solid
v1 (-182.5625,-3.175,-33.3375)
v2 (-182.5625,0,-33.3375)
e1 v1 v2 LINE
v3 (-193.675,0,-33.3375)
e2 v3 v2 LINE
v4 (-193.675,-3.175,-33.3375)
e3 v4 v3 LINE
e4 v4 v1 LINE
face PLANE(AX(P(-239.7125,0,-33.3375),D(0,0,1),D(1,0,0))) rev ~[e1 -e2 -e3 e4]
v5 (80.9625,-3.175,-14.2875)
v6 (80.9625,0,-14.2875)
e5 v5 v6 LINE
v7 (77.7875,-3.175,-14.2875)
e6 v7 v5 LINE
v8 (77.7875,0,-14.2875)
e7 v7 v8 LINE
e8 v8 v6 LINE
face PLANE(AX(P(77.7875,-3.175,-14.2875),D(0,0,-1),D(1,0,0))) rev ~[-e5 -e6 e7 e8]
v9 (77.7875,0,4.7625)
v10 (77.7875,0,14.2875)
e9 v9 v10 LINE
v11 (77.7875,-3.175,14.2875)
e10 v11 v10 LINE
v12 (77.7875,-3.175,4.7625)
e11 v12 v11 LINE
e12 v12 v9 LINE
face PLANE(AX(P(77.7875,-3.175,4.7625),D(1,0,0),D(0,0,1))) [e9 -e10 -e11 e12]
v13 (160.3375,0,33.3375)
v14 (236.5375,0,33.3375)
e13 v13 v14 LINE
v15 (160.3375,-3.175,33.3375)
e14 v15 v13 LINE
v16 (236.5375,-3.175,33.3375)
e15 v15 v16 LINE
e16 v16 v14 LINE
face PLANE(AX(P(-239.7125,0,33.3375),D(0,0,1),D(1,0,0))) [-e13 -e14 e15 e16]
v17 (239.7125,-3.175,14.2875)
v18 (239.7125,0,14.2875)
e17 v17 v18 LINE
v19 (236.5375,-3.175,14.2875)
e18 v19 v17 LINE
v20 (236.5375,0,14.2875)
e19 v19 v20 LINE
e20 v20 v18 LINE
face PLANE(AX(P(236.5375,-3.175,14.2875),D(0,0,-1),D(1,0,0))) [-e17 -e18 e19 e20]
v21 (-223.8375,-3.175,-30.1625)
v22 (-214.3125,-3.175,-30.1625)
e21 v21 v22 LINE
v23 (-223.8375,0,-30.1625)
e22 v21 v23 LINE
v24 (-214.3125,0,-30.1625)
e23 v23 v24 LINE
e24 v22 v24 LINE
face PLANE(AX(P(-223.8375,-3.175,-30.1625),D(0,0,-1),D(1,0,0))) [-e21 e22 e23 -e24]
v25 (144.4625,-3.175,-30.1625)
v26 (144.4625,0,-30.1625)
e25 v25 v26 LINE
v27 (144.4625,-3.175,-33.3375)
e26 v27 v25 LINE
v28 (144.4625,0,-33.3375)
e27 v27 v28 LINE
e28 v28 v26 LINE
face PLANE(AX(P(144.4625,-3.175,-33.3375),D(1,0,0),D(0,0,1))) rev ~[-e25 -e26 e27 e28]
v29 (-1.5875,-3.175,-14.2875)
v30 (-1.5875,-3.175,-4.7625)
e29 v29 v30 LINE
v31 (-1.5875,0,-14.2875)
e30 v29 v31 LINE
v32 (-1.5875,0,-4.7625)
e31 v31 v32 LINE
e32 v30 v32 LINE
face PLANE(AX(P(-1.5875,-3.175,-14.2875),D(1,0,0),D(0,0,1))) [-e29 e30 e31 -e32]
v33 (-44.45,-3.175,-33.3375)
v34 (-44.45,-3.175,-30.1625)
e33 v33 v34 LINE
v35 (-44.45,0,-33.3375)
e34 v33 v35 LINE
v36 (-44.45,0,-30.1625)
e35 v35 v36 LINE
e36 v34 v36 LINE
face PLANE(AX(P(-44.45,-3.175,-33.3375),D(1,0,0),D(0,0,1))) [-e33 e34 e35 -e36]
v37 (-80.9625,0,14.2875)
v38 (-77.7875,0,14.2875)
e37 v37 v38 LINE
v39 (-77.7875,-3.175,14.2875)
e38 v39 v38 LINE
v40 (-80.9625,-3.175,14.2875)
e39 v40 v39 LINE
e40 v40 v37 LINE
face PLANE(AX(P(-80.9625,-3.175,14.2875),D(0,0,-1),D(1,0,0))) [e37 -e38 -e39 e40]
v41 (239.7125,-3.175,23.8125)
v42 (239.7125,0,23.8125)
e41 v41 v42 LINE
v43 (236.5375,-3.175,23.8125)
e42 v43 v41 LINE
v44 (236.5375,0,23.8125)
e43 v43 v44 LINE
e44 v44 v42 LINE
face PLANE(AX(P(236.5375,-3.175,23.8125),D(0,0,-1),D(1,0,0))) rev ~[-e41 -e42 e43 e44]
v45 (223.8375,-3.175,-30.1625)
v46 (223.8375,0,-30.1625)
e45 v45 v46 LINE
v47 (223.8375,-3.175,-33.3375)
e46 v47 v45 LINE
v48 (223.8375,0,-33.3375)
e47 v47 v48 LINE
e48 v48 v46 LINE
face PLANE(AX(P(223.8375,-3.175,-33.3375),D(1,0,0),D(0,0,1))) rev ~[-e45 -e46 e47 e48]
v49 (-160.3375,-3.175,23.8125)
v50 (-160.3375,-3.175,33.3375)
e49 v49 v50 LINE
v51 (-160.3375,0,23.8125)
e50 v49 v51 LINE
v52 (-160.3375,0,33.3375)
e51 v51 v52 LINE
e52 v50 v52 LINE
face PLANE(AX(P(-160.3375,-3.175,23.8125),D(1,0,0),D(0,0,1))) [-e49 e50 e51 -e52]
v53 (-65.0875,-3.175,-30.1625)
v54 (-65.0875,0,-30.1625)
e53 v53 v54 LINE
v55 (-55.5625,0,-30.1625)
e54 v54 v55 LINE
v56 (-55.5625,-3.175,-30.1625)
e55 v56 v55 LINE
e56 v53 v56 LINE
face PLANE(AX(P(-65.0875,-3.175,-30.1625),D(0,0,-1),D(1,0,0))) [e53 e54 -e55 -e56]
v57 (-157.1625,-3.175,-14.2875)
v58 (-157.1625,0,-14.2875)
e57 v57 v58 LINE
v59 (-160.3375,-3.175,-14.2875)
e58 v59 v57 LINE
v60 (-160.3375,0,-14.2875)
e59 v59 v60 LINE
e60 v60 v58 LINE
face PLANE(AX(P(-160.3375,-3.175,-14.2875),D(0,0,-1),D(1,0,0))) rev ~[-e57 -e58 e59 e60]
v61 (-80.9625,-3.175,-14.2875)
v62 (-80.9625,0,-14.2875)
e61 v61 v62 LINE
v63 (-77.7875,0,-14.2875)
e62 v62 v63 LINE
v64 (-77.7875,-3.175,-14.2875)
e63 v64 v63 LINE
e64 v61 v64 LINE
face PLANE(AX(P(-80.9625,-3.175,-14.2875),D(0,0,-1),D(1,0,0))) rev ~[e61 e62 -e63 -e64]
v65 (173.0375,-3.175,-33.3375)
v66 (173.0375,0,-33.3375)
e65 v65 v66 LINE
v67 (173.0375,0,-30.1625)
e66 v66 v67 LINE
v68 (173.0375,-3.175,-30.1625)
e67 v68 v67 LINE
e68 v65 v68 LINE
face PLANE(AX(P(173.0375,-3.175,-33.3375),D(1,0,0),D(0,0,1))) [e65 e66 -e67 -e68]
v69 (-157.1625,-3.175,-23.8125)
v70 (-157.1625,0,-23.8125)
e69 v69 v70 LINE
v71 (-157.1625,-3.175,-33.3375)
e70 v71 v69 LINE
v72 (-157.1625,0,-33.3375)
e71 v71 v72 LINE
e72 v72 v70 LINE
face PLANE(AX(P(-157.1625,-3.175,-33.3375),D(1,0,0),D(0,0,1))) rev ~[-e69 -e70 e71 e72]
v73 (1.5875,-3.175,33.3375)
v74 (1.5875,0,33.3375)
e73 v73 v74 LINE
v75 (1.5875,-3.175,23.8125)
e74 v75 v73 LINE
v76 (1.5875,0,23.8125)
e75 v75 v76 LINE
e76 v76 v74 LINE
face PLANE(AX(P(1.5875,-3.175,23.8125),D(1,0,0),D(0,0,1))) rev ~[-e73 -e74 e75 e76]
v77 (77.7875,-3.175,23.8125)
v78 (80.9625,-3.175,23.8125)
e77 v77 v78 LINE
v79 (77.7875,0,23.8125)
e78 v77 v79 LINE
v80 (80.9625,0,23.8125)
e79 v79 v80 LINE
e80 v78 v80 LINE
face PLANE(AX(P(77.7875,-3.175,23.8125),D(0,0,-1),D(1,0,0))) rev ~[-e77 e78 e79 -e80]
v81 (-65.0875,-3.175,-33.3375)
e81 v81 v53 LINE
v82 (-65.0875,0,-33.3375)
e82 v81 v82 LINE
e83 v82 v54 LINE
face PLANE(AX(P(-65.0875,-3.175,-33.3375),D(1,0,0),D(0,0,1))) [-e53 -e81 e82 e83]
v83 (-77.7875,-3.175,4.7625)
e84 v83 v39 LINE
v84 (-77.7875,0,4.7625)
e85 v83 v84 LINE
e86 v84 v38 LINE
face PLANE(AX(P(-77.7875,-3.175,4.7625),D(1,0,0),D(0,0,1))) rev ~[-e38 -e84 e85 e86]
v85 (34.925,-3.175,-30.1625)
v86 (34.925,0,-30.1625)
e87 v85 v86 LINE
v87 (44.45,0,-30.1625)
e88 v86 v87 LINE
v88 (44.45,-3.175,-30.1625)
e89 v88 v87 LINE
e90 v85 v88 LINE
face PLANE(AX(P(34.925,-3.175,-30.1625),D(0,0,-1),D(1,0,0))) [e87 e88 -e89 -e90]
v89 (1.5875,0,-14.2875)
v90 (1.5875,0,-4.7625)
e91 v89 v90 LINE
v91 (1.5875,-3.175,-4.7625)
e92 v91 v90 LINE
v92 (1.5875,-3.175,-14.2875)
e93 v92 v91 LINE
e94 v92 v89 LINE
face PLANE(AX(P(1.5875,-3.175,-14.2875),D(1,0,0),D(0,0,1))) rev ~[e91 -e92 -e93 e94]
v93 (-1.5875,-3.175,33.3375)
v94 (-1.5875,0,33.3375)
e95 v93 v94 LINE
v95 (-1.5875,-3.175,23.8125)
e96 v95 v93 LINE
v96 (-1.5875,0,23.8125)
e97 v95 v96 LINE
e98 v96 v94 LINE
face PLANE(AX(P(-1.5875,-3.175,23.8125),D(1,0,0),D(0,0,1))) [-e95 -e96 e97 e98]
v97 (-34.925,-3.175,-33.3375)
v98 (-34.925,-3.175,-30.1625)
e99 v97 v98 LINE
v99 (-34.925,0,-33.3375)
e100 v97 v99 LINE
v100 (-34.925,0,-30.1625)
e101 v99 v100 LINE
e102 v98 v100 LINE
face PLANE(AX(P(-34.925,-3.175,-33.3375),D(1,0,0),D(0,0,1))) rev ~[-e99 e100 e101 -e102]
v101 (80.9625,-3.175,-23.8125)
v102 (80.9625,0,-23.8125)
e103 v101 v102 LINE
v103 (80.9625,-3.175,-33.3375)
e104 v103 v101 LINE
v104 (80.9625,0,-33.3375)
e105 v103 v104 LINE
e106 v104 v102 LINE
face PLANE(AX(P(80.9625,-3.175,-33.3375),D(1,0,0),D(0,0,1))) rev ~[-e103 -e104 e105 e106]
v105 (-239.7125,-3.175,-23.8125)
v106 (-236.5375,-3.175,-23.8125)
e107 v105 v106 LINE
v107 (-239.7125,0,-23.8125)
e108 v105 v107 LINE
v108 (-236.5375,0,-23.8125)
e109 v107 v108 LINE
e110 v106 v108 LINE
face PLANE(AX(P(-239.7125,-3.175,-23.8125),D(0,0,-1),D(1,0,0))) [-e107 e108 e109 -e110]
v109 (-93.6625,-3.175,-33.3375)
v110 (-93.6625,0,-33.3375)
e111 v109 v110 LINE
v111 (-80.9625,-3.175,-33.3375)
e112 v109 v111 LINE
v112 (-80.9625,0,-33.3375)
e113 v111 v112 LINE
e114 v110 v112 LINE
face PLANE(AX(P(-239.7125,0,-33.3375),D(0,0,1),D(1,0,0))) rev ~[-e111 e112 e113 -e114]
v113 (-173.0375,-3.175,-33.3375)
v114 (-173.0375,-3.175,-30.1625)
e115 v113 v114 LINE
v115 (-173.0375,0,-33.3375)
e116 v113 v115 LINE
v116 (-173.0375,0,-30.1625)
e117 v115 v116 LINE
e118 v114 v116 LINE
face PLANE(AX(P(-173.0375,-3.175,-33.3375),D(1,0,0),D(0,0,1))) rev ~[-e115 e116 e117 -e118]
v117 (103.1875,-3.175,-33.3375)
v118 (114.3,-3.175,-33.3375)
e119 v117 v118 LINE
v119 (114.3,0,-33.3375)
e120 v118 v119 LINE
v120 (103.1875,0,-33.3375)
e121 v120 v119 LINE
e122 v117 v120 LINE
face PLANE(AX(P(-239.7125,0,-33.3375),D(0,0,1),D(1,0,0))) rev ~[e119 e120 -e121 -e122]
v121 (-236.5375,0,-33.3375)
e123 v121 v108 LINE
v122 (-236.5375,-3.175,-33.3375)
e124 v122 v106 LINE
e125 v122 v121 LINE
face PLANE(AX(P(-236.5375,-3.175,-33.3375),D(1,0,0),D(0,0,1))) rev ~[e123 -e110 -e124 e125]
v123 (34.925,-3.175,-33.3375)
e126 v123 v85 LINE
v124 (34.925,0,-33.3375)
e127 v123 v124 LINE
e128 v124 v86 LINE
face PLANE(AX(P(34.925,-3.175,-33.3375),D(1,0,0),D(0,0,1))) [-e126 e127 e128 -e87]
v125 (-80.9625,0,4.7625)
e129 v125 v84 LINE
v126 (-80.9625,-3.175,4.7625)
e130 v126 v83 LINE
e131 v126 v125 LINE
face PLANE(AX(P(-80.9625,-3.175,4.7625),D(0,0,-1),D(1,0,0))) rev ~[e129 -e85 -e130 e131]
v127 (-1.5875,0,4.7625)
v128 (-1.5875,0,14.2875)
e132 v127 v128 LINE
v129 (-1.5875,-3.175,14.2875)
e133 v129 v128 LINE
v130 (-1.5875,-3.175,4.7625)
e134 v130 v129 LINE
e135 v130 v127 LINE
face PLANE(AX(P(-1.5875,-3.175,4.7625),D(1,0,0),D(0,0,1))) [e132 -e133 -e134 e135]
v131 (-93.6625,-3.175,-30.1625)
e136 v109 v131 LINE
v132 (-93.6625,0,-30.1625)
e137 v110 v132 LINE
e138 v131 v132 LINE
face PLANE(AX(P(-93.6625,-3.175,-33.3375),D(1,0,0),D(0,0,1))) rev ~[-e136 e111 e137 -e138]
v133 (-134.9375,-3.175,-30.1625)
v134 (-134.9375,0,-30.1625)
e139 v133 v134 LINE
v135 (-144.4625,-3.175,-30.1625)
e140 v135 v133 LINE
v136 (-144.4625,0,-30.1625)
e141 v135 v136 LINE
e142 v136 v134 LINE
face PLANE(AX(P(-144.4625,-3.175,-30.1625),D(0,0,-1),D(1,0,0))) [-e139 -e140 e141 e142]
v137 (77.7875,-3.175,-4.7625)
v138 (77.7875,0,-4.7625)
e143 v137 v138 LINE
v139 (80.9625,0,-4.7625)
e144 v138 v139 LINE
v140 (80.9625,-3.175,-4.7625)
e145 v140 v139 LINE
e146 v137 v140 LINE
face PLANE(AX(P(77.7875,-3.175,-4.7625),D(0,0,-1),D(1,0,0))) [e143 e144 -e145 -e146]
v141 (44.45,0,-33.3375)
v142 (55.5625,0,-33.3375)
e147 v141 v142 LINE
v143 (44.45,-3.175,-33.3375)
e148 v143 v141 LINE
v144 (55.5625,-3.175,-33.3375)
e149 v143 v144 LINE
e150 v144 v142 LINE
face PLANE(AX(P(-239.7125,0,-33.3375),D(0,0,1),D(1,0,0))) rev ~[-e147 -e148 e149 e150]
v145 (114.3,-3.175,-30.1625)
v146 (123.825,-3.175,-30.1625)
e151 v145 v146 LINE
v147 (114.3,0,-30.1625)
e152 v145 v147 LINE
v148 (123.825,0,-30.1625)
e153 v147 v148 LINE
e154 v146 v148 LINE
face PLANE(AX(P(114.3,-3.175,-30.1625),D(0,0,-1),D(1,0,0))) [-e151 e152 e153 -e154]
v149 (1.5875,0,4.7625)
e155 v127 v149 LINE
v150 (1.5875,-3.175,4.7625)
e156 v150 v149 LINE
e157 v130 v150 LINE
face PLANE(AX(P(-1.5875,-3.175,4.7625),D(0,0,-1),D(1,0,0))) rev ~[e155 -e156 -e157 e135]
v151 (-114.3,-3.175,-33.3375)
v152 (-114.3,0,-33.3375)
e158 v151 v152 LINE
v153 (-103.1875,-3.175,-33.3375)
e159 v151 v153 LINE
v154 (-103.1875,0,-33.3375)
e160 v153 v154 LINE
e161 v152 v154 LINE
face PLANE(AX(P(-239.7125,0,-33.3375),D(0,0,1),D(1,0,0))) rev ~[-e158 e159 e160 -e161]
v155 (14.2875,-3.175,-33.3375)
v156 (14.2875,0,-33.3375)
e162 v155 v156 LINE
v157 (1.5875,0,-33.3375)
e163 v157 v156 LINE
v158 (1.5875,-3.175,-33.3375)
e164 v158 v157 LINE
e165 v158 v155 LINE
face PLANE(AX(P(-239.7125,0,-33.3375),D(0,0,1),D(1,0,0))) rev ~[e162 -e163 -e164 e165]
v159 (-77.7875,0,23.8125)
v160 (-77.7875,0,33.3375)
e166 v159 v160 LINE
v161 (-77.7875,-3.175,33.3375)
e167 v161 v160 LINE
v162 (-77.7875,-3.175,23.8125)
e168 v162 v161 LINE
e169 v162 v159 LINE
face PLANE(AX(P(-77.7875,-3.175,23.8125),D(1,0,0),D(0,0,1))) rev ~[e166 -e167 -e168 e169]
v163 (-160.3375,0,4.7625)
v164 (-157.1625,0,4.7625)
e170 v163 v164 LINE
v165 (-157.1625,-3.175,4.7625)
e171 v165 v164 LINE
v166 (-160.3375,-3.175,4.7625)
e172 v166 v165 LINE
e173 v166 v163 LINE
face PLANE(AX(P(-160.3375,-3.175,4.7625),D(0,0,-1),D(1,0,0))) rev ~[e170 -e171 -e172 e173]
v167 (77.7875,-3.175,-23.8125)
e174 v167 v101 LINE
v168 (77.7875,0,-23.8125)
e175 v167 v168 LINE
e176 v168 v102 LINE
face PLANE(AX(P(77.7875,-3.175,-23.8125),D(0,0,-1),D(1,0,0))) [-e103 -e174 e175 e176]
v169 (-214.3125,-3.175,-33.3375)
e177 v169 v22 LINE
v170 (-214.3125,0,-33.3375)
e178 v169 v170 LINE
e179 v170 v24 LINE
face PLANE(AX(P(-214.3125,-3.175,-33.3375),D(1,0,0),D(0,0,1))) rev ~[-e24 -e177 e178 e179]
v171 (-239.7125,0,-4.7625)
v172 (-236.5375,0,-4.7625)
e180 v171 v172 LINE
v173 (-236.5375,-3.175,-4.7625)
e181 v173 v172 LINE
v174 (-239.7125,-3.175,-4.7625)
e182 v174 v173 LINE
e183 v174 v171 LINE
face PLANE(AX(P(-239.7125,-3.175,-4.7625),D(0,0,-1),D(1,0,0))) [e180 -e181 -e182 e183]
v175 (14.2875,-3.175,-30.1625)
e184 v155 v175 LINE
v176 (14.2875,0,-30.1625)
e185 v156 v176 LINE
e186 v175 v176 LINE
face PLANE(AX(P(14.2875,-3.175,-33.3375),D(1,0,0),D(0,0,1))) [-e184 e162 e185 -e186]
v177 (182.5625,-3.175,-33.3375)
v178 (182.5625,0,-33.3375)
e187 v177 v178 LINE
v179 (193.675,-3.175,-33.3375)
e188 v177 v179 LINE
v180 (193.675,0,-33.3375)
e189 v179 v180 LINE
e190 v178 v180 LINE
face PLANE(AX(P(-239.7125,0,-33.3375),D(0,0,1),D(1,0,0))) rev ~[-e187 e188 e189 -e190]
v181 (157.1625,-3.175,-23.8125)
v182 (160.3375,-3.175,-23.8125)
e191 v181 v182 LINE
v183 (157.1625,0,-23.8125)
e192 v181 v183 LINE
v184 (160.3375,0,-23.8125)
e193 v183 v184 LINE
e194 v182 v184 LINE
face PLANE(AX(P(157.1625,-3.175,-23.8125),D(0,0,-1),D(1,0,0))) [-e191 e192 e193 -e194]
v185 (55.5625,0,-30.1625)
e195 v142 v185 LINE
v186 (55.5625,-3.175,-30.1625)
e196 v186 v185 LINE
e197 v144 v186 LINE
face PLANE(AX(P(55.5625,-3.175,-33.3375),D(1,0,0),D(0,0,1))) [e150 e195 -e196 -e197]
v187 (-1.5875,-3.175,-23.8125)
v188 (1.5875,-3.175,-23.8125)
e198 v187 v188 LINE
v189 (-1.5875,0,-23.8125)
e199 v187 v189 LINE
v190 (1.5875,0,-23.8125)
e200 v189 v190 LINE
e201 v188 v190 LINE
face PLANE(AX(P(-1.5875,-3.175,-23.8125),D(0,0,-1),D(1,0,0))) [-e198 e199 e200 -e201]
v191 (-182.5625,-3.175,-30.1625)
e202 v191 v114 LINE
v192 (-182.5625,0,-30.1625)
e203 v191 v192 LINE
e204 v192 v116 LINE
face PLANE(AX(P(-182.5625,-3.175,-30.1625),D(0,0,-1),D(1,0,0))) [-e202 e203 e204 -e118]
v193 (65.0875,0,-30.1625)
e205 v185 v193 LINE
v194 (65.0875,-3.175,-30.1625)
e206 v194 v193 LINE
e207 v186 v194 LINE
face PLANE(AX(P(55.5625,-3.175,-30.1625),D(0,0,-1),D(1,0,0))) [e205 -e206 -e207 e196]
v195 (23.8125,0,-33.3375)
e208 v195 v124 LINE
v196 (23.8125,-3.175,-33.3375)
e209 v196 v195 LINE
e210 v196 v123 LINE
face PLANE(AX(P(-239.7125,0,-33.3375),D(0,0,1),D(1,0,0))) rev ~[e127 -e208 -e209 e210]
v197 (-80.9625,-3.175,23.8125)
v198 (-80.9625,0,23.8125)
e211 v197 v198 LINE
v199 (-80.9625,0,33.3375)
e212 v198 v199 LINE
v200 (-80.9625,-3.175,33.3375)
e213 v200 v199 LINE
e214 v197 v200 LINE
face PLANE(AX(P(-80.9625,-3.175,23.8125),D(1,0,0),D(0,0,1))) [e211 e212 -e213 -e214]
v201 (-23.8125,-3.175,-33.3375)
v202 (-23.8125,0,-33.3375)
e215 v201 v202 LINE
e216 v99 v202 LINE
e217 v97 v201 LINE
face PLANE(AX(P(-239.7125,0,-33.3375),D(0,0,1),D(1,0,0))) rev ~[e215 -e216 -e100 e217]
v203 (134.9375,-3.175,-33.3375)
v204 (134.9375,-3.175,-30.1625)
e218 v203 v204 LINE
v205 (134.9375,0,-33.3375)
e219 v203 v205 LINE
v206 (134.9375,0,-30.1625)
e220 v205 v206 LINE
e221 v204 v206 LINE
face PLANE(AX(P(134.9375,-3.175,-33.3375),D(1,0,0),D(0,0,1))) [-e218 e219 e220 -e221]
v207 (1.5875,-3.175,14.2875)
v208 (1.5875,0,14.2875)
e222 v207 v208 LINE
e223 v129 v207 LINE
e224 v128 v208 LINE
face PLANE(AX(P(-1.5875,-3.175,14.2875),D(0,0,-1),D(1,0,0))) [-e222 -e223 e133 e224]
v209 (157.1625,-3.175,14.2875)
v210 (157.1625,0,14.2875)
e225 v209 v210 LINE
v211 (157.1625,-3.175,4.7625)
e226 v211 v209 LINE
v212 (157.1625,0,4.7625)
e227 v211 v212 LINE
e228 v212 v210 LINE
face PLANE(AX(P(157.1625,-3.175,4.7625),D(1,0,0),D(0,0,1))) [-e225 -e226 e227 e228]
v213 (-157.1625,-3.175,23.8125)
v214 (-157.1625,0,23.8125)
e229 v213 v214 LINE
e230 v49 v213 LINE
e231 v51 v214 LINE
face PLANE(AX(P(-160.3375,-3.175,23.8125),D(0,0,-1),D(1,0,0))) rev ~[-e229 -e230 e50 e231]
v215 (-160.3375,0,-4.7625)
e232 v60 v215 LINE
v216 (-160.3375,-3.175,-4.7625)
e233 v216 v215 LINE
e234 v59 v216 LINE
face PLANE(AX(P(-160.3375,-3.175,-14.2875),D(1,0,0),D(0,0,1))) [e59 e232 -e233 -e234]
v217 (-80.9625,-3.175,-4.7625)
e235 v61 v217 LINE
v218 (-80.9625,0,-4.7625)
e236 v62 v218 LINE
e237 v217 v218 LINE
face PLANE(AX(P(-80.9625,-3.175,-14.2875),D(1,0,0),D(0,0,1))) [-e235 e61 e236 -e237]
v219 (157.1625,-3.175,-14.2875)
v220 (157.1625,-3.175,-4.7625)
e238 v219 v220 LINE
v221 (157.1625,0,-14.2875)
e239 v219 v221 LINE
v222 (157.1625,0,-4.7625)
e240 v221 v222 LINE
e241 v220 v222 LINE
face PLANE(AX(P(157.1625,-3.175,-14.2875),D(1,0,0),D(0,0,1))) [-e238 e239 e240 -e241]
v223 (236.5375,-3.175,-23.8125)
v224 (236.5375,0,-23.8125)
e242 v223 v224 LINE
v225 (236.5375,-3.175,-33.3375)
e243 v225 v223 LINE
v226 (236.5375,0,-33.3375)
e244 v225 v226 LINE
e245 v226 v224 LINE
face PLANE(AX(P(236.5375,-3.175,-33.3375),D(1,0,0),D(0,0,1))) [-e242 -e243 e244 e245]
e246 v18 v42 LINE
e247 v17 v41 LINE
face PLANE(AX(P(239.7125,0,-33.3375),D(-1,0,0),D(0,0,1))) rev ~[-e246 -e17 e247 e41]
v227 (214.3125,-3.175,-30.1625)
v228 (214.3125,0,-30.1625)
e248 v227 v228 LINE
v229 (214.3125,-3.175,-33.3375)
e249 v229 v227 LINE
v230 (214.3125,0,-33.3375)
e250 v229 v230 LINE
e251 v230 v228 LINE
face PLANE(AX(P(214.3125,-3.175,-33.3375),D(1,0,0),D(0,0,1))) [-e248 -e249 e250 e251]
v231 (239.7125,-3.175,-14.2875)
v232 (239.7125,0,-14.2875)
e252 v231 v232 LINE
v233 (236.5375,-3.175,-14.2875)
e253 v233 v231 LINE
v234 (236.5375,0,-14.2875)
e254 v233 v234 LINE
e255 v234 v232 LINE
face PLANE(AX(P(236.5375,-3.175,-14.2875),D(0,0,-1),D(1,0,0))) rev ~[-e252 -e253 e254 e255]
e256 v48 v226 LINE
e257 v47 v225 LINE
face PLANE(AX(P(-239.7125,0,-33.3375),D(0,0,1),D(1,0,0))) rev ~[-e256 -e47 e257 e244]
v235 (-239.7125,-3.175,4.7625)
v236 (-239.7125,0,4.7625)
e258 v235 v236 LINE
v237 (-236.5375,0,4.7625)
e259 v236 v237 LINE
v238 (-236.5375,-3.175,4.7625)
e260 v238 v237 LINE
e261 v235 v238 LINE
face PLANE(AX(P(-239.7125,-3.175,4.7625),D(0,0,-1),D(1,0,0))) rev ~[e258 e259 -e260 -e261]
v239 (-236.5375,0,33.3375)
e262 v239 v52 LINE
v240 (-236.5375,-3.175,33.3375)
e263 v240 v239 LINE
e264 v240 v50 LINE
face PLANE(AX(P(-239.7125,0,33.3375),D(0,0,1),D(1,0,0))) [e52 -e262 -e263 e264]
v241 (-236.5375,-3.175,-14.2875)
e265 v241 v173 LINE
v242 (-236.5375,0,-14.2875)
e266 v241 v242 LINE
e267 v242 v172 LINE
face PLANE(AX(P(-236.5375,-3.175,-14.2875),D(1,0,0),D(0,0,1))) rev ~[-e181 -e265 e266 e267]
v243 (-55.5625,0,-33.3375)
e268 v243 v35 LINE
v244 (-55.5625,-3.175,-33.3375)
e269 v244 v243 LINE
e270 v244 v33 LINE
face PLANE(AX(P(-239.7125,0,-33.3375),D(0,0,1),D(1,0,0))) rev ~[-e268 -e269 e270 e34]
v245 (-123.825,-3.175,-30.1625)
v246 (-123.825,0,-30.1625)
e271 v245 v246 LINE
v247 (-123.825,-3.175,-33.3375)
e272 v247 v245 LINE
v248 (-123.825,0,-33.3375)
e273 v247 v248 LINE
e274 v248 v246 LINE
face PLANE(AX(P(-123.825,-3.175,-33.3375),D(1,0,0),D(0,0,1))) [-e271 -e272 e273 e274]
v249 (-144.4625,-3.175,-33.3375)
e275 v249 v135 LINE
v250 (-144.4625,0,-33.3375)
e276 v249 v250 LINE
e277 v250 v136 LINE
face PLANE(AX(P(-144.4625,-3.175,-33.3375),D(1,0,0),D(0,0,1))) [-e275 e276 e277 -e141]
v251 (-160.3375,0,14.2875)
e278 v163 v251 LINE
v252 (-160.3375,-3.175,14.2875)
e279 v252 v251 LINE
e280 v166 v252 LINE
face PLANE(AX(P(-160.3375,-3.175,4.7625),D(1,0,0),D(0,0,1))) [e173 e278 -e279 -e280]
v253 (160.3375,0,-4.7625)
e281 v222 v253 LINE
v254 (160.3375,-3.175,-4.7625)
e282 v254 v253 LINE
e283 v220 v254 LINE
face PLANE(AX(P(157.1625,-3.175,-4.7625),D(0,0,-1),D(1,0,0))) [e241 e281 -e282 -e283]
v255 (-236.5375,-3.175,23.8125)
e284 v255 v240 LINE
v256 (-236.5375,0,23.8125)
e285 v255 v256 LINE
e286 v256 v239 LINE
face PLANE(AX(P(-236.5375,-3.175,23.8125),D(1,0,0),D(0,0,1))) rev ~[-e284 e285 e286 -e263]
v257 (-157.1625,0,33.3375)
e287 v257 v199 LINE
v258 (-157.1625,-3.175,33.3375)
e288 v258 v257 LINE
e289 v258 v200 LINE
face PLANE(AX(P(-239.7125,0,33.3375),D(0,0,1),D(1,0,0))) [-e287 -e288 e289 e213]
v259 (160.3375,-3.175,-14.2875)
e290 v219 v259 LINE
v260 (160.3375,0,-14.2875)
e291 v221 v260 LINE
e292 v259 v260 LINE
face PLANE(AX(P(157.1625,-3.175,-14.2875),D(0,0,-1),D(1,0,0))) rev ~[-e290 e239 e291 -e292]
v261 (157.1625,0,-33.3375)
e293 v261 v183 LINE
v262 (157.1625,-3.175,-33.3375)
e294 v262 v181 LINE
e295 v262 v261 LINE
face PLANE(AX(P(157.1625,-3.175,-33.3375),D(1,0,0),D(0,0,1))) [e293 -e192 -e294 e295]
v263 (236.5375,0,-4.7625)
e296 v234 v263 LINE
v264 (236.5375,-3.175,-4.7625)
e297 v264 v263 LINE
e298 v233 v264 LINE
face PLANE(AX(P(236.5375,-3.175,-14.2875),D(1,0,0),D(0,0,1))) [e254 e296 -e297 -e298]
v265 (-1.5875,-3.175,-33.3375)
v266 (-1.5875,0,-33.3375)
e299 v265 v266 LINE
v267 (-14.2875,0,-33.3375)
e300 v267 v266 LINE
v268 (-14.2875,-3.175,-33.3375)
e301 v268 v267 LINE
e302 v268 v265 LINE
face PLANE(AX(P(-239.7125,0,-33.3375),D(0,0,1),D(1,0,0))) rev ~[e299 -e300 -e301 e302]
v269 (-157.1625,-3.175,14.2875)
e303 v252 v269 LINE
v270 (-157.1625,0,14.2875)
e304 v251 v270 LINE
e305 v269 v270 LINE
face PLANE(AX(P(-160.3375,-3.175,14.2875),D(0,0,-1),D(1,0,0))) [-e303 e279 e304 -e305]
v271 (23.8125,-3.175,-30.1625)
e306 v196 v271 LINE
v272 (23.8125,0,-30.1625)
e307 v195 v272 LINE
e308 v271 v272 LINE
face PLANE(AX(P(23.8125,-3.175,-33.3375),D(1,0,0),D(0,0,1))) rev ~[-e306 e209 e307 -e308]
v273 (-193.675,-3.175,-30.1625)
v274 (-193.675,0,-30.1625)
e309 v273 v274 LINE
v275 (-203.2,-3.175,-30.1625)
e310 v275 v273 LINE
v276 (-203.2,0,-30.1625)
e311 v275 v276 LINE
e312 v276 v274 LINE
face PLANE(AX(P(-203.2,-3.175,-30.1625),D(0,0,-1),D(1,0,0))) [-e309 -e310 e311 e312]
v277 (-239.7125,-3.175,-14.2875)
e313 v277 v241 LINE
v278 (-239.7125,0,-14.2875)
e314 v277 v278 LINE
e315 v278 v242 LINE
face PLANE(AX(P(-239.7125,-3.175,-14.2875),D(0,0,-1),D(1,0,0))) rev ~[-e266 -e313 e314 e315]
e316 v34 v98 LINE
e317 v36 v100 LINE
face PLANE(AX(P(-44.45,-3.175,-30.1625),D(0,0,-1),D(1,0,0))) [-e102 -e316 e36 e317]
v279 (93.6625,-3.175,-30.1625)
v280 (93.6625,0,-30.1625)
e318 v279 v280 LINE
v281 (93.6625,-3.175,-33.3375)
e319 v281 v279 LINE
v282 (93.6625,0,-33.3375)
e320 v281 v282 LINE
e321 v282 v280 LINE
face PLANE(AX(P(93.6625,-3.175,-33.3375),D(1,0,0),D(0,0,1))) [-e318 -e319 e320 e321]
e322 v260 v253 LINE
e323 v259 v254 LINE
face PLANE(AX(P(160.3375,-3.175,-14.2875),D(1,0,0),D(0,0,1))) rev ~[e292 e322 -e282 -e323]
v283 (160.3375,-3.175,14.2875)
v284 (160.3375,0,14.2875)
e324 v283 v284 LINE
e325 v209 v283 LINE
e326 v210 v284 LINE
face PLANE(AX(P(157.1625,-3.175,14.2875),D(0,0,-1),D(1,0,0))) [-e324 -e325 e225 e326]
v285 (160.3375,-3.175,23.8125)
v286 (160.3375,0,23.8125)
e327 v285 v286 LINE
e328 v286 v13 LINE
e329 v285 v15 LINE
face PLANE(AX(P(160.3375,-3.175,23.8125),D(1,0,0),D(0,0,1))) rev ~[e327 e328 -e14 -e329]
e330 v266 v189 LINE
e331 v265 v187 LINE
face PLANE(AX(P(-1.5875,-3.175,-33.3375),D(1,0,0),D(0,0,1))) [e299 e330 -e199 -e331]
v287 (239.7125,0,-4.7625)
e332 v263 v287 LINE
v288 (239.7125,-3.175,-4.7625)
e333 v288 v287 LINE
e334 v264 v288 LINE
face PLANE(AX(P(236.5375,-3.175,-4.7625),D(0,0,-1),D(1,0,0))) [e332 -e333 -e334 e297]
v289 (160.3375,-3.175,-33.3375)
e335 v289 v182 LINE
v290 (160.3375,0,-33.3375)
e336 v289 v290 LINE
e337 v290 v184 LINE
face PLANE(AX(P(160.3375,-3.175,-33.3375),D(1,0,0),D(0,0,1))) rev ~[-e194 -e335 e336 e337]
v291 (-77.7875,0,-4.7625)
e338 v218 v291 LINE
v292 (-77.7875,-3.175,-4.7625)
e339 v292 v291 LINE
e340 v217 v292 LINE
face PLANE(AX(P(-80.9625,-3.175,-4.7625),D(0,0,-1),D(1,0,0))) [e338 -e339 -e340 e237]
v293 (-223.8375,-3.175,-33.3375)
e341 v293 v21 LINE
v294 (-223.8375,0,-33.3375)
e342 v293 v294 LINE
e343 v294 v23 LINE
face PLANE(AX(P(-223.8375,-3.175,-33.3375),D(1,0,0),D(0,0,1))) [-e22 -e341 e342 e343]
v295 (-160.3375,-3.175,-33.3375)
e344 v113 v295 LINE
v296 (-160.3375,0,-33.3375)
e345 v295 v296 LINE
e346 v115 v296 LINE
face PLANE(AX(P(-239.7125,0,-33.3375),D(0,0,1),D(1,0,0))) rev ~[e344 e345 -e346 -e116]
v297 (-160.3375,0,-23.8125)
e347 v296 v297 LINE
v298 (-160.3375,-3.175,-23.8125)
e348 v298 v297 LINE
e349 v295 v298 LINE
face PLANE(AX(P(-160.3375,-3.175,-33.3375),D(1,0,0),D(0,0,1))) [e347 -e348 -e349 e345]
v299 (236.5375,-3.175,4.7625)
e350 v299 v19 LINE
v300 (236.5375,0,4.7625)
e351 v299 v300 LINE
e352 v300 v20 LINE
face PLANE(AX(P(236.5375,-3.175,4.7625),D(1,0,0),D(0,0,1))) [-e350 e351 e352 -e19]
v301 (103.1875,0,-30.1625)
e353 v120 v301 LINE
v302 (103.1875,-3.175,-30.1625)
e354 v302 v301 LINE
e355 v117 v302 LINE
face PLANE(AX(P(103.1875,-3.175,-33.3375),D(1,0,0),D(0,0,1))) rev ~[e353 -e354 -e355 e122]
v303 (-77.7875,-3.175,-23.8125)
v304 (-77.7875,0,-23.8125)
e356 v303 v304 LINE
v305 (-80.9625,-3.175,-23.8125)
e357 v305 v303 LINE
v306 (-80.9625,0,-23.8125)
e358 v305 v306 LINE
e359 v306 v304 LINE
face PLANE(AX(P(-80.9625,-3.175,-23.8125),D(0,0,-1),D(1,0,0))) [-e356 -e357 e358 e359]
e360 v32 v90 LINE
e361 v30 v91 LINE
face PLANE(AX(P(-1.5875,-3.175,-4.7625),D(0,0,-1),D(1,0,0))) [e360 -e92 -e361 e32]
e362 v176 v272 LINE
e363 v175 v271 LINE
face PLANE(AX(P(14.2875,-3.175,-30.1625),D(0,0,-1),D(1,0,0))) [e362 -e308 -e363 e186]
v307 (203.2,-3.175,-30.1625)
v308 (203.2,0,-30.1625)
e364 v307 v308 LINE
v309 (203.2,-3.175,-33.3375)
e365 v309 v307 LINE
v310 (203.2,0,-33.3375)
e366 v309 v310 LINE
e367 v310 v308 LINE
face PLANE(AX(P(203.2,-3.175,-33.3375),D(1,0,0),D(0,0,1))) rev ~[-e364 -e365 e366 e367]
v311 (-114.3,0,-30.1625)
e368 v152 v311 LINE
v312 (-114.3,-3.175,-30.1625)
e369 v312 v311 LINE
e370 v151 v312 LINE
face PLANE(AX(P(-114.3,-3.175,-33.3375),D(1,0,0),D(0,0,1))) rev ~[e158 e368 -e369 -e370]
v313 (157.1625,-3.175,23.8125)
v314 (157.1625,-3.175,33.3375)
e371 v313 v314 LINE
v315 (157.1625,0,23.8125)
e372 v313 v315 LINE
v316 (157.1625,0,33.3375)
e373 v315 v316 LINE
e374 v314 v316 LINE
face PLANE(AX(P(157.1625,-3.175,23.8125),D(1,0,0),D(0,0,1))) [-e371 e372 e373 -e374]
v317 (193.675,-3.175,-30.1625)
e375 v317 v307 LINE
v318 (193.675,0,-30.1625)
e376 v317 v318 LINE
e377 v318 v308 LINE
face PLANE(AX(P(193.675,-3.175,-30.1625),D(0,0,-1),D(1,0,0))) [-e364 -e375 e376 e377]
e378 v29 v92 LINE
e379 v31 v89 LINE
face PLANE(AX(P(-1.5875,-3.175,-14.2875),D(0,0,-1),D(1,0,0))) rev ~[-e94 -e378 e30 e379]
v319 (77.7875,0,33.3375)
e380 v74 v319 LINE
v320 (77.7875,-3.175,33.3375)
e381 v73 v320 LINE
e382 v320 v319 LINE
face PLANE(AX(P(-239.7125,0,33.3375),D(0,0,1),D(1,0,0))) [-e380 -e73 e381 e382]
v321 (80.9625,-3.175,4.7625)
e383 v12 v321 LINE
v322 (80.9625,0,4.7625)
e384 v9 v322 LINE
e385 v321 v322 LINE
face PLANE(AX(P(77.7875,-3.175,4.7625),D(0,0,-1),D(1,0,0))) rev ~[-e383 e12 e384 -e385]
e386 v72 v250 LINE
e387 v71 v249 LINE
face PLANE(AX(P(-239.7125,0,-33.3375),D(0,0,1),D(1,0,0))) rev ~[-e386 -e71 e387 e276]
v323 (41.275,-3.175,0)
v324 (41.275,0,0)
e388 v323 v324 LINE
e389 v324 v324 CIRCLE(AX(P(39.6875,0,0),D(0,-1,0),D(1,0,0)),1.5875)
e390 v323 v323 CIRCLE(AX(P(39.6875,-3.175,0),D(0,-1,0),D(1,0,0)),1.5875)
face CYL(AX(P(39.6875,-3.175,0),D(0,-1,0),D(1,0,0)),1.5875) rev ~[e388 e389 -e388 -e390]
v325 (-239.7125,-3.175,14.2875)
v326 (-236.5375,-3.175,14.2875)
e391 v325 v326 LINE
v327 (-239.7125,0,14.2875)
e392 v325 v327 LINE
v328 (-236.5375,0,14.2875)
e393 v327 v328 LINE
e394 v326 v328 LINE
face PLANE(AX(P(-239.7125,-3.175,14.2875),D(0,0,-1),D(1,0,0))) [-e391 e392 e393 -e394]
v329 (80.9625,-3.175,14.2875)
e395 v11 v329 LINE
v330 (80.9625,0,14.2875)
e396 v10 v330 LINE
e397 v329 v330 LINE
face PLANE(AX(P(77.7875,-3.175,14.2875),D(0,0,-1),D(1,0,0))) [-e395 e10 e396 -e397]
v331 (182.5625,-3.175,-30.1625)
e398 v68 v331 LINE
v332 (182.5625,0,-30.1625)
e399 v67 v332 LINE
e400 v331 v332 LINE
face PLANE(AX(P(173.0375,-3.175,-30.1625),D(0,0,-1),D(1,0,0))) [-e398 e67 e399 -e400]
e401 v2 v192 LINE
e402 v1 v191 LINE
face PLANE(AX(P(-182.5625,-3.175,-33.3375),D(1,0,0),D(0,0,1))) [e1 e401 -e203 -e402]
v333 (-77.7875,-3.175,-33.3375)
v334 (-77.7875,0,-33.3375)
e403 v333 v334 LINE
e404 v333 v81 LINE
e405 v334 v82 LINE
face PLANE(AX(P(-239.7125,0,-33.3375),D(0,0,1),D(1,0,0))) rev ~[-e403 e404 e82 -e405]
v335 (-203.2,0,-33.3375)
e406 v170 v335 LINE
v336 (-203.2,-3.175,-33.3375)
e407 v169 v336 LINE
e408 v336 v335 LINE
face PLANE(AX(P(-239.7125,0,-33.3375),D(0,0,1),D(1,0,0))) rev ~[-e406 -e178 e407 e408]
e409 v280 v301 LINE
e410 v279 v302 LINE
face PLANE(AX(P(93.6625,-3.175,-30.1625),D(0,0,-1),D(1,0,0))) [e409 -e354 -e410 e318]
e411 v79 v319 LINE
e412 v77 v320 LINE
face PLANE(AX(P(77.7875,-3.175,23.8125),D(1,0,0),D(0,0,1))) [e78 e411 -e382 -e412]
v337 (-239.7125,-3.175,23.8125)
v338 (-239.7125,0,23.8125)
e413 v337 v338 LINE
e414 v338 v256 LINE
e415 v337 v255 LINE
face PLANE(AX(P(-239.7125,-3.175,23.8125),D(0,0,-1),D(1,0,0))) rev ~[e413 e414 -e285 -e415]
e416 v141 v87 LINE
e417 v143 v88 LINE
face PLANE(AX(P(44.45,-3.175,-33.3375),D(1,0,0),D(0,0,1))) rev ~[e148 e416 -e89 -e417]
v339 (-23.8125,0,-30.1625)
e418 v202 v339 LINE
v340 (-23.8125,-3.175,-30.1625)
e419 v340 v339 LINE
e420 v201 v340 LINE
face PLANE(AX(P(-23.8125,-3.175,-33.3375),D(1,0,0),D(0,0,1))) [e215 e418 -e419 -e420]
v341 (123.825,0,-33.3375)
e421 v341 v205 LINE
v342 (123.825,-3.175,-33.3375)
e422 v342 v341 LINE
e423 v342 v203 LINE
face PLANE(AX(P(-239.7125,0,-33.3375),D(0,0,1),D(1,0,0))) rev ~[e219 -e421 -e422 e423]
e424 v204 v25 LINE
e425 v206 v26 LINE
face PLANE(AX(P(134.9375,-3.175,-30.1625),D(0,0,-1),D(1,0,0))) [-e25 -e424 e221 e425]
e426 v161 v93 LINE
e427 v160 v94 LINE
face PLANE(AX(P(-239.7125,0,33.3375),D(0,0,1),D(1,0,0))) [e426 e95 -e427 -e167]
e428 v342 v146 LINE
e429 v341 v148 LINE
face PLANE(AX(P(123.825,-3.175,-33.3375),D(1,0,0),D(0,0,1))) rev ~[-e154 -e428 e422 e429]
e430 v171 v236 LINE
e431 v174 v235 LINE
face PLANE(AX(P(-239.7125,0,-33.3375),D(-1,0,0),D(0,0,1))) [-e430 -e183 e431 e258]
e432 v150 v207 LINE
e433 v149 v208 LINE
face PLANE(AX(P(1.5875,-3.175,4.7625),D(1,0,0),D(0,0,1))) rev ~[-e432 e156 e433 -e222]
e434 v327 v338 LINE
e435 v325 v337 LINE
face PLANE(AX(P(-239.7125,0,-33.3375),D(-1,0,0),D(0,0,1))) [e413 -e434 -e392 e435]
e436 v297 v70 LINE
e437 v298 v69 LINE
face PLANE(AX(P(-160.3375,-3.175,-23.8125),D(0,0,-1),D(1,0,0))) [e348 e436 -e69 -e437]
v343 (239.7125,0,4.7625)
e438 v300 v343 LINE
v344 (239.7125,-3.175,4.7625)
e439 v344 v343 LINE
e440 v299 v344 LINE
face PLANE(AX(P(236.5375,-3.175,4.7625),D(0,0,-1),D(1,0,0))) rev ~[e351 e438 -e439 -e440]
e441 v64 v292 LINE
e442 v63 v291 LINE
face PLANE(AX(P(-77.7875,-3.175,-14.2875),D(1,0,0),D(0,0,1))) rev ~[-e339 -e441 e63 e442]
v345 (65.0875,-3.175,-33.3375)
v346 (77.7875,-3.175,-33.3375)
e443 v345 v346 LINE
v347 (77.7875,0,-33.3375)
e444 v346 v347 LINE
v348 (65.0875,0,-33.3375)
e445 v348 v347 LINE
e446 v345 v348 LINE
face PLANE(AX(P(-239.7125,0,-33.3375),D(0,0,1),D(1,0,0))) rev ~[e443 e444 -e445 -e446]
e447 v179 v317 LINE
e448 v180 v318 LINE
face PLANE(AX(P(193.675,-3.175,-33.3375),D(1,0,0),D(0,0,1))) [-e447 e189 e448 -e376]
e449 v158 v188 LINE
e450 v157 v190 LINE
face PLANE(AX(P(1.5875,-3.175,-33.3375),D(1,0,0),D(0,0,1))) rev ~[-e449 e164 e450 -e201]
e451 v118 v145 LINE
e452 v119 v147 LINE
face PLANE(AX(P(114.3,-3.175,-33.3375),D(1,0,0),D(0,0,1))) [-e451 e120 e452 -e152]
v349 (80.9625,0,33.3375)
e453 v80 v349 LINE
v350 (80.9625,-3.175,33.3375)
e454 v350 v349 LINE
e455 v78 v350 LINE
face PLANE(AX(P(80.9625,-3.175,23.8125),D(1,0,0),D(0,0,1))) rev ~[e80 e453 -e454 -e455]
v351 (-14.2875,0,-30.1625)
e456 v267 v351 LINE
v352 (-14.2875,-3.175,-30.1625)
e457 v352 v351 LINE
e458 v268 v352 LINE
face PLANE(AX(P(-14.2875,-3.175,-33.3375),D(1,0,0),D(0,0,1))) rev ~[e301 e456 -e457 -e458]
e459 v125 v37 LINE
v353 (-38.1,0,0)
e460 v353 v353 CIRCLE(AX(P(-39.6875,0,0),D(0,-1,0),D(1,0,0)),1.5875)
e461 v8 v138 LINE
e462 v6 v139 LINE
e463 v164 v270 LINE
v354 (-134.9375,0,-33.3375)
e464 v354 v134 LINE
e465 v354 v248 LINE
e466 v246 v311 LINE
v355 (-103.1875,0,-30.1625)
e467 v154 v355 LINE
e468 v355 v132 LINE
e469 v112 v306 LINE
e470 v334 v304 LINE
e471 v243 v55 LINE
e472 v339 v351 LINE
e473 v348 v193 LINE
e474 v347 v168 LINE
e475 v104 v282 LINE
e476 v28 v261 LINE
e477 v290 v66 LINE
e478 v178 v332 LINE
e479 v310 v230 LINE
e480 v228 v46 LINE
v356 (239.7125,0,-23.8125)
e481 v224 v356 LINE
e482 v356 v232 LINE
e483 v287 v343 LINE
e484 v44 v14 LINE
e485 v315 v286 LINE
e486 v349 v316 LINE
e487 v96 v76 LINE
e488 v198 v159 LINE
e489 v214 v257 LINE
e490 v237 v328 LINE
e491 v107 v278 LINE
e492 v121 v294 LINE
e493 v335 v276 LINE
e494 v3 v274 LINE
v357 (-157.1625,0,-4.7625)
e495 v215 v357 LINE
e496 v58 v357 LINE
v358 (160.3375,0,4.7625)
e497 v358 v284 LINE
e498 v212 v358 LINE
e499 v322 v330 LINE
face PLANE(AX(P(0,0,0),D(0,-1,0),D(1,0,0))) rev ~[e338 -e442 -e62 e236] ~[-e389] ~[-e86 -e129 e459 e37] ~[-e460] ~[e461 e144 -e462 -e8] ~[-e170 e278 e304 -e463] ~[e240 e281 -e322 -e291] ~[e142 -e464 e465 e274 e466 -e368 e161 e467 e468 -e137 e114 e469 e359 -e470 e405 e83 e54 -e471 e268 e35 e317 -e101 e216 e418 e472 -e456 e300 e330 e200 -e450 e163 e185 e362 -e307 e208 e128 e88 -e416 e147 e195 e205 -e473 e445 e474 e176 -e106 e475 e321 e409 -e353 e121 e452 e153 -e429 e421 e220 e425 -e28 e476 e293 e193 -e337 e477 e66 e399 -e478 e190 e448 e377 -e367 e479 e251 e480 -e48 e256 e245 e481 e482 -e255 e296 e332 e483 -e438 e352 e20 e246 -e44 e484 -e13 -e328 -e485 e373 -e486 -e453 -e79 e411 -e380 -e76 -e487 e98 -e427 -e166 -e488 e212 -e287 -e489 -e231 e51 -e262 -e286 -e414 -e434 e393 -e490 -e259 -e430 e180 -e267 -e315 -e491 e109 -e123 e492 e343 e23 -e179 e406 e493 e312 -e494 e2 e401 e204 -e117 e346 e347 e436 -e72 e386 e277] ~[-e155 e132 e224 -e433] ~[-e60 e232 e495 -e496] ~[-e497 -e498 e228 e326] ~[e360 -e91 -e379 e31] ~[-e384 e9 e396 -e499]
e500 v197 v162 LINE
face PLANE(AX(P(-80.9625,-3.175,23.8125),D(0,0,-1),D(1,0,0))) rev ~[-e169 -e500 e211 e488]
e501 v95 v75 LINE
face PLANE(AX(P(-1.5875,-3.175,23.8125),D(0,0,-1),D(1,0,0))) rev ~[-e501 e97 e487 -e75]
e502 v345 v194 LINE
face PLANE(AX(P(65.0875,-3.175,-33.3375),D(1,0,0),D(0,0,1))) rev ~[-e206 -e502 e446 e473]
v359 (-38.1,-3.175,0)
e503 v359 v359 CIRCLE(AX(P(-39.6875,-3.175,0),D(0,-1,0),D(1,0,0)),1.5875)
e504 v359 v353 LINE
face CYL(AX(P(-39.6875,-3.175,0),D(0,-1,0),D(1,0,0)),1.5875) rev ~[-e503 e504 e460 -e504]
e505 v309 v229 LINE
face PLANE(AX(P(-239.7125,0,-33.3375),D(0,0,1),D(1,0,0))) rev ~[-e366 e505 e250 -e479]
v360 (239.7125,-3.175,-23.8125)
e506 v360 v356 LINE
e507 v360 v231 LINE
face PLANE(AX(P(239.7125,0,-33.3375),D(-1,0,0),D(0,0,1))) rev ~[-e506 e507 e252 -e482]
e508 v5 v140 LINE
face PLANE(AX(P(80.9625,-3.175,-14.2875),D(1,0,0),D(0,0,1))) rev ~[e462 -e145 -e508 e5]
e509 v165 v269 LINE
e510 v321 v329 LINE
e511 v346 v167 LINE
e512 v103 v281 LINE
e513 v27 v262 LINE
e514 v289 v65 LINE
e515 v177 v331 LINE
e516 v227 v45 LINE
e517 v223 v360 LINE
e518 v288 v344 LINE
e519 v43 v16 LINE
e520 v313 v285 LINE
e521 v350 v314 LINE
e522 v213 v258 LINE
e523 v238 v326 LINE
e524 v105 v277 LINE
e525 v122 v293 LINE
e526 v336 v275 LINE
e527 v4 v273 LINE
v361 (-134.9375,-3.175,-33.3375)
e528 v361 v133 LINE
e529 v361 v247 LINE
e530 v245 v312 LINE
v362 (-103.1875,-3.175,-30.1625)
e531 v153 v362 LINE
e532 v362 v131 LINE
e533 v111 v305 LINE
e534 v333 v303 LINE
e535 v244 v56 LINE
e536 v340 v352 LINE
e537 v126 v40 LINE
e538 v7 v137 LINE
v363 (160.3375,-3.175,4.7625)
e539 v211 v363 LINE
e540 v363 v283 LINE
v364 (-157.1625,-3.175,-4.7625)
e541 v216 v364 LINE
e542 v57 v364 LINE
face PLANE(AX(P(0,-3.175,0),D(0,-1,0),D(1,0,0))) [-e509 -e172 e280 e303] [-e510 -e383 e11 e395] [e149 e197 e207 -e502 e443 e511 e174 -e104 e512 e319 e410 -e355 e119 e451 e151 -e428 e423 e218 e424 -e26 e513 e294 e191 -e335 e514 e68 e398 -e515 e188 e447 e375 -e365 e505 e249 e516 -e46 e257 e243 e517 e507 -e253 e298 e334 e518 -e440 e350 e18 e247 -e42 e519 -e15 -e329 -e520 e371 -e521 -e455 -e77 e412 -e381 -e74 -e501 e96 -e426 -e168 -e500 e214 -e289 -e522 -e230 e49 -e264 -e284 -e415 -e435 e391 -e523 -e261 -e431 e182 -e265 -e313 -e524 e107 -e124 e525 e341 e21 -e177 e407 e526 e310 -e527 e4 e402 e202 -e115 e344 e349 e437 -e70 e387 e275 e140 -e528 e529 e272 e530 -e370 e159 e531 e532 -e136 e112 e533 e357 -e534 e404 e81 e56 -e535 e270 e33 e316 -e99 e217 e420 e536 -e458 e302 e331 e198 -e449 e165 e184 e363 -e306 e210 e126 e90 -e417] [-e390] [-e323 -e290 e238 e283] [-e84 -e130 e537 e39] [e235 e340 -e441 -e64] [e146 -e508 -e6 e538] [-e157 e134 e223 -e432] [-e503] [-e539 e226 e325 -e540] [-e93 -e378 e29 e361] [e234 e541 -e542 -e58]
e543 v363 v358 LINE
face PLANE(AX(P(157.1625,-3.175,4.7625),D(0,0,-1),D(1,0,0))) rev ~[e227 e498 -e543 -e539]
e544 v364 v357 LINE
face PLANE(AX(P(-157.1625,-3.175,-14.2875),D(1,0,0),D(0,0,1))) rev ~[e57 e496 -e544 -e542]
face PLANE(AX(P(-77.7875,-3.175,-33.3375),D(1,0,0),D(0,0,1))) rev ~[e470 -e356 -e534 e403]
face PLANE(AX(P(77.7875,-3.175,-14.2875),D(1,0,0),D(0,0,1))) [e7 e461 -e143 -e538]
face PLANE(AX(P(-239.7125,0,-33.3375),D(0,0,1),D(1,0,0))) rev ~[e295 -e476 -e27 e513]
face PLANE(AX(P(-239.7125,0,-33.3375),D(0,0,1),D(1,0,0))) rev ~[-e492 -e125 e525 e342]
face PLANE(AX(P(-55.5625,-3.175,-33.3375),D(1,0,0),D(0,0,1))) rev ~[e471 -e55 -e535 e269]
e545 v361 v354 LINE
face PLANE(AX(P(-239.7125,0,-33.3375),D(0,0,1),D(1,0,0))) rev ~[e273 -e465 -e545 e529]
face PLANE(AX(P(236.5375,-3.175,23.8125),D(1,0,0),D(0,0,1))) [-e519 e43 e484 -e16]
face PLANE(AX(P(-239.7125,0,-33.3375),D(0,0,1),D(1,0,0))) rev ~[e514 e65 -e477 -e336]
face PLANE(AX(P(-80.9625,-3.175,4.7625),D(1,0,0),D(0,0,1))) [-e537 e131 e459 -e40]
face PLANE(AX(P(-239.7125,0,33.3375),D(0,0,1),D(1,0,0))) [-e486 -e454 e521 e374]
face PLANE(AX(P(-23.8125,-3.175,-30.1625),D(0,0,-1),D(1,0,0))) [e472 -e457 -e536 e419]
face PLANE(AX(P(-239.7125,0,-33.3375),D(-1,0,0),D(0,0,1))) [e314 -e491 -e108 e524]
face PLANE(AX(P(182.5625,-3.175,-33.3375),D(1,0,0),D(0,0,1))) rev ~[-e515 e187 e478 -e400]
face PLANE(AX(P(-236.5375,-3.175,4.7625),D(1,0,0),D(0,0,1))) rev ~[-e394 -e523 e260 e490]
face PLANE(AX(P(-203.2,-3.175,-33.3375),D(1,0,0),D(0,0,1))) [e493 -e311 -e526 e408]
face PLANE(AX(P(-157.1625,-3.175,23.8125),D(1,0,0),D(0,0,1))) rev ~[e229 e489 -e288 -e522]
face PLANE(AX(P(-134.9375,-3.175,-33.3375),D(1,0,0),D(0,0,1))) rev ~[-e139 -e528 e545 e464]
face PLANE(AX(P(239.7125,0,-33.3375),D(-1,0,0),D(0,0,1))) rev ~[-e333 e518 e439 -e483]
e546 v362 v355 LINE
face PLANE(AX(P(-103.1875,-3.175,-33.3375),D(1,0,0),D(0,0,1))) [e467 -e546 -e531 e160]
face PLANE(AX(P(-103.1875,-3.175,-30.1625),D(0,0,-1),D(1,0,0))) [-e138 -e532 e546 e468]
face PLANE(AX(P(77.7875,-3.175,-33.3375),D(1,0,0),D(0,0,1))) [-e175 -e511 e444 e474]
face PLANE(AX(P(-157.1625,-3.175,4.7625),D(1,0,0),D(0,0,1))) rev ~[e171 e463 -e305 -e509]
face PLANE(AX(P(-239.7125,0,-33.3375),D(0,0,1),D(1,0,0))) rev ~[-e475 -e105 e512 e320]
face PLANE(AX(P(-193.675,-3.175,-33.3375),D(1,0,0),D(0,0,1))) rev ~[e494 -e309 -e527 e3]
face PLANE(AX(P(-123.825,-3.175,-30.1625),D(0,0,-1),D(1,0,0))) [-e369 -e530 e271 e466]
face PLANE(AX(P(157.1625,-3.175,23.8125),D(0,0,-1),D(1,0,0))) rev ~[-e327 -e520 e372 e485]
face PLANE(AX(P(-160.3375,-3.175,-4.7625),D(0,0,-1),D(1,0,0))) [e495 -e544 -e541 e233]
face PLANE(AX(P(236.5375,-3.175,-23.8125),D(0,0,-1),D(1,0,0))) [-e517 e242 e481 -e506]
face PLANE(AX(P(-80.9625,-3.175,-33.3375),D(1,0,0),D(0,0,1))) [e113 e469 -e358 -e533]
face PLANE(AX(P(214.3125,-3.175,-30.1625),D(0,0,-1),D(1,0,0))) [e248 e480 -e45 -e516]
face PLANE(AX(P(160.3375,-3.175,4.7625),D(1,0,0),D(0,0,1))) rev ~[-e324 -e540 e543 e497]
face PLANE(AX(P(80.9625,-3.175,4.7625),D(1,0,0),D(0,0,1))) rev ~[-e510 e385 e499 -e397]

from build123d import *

# Parameters (mm, degrees)
F0_W     = 479.425
F0_H     = 66.675
F1_DEPTH = 3.175
F2_W     = 3.175
F2_H     = 9.525
F3_DEPTH = 3.176
F4_W     = 9.525
F4_H     = 3.175
F5_DEPTH = 3.176
F6_R     = 1.5875
F7_DEPTH = 3.176


with BuildPart() as f1:
    # F0 (on Front) → F1 (new body)
    with BuildSketch(Plane.XZ):
        Rectangle(F0_W, F0_H)
    extrude(amount=F1_DEPTH)

    # F2 (on face) → F3 (cut, through all)
    with BuildSketch(Plane.XZ.offset(3.175)):
        with Locations((-238.125, -28.575)):
            Rectangle(F2_W, F2_H)
        with Locations((-238.125, -9.525)):
            Rectangle(F2_W, F2_H)
        with Locations((-238.125, 9.525)):
            Rectangle(F2_W, F2_H)
        with Locations((-238.125, 28.575)):
            Rectangle(F2_W, F2_H)
        with Locations((-158.75, -28.575)):
            Rectangle(F2_W, F2_H)
        with Locations((-158.75, -9.525)):
            Rectangle(F2_W, F2_H)
        with Locations((-158.75, 9.525)):
            Rectangle(F2_W, F2_H)
        with Locations((-158.75, 28.575)):
            Rectangle(F2_W, F2_H)
        with Locations((-79.375, -28.575)):
            Rectangle(F2_W, F2_H)
        with Locations((-79.375, -9.525)):
            Rectangle(F2_W, F2_H)
        with Locations((-79.375, 9.525)):
            Rectangle(F2_W, F2_H)
        with Locations((-79.375, 28.575)):
            Rectangle(F2_W, F2_H)
        with Locations((0, -28.575)):
            Rectangle(F2_W, F2_H)
        with Locations((0, -9.525)):
            Rectangle(F2_W, F2_H)
        with Locations((0, 9.525)):
            Rectangle(F2_W, F2_H)
        with Locations((0, 28.575)):
            Rectangle(F2_W, F2_H)
        with Locations((79.375, -28.575)):
            Rectangle(F2_W, F2_H)
        with Locations((79.375, -9.525)):
            Rectangle(F2_W, F2_H)
        with Locations((79.375, 9.525)):
            Rectangle(F2_W, F2_H)
        with Locations((79.375, 28.575)):
            Rectangle(F2_W, F2_H)
        with Locations((158.75, -28.575)):
            Rectangle(F2_W, F2_H)
        with Locations((158.75, -9.525)):
            Rectangle(F2_W, F2_H)
        with Locations((158.75, 9.525)):
            Rectangle(F2_W, F2_H)
        with Locations((158.75, 28.575)):
            Rectangle(F2_W, F2_H)
        with Locations((238.125, -28.575)):
            Rectangle(F2_W, F2_H)
        with Locations((238.125, -9.525)):
            Rectangle(F2_W, F2_H)
        with Locations((238.125, 9.525)):
            Rectangle(F2_W, F2_H)
        with Locations((238.125, 28.575)):
            Rectangle(F2_W, F2_H)
    extrude(amount=-F3_DEPTH, mode=Mode.SUBTRACT)

    # F4 (on face) → F5 (cut, through all)
    with BuildSketch(Plane.XZ.offset(3.175)):
        with Locations((-219.075, -31.75)):
            Rectangle(F4_W, F4_H)
        with Locations((-198.4375, -31.75)):
            Rectangle(F4_W, F4_H)
        with Locations((-177.8, -31.75)):
            Rectangle(F4_W, F4_H)
        with Locations((-139.7, -31.75)):
            Rectangle(F4_W, F4_H)
        with Locations((-119.0625, -31.75)):
            Rectangle(F4_W, F4_H)
        with Locations((-98.425, -31.75)):
            Rectangle(F4_W, F4_H)
        with Locations((-60.325, -31.75)):
            Rectangle(F4_W, F4_H)
        with Locations((-39.6875, -31.75)):
            Rectangle(F4_W, F4_H)
        with Locations((-19.05, -31.75)):
            Rectangle(F4_W, F4_H)
        with Locations((19.05, -31.75)):
            Rectangle(F4_W, F4_H)
        with Locations((39.6875, -31.75)):
            Rectangle(F4_W, F4_H)
        with Locations((60.325, -31.75)):
            Rectangle(F4_W, F4_H)
        with Locations((98.425, -31.75)):
            Rectangle(F4_W, F4_H)
        with Locations((119.0625, -31.75)):
            Rectangle(F4_W, F4_H)
        with Locations((139.7, -31.75)):
            Rectangle(F4_W, F4_H)
        with Locations((177.8, -31.75)):
            Rectangle(F4_W, F4_H)
        with Locations((198.4375, -31.75)):
            Rectangle(F4_W, F4_H)
        with Locations((219.075, -31.75)):
            Rectangle(F4_W, F4_H)
    extrude(amount=-F5_DEPTH, mode=Mode.SUBTRACT)

    # F6 (on face) → F7 (cut, through all)
    with BuildSketch(Plane.XZ.offset(3.175)):
        with Locations((-39.6875, 0)):
            Circle(F6_R)
        with Locations((39.6875, 0)):
            Circle(F6_R)
    extrude(amount=-F7_DEPTH, mode=Mode.SUBTRACT)


solid = f1.part
